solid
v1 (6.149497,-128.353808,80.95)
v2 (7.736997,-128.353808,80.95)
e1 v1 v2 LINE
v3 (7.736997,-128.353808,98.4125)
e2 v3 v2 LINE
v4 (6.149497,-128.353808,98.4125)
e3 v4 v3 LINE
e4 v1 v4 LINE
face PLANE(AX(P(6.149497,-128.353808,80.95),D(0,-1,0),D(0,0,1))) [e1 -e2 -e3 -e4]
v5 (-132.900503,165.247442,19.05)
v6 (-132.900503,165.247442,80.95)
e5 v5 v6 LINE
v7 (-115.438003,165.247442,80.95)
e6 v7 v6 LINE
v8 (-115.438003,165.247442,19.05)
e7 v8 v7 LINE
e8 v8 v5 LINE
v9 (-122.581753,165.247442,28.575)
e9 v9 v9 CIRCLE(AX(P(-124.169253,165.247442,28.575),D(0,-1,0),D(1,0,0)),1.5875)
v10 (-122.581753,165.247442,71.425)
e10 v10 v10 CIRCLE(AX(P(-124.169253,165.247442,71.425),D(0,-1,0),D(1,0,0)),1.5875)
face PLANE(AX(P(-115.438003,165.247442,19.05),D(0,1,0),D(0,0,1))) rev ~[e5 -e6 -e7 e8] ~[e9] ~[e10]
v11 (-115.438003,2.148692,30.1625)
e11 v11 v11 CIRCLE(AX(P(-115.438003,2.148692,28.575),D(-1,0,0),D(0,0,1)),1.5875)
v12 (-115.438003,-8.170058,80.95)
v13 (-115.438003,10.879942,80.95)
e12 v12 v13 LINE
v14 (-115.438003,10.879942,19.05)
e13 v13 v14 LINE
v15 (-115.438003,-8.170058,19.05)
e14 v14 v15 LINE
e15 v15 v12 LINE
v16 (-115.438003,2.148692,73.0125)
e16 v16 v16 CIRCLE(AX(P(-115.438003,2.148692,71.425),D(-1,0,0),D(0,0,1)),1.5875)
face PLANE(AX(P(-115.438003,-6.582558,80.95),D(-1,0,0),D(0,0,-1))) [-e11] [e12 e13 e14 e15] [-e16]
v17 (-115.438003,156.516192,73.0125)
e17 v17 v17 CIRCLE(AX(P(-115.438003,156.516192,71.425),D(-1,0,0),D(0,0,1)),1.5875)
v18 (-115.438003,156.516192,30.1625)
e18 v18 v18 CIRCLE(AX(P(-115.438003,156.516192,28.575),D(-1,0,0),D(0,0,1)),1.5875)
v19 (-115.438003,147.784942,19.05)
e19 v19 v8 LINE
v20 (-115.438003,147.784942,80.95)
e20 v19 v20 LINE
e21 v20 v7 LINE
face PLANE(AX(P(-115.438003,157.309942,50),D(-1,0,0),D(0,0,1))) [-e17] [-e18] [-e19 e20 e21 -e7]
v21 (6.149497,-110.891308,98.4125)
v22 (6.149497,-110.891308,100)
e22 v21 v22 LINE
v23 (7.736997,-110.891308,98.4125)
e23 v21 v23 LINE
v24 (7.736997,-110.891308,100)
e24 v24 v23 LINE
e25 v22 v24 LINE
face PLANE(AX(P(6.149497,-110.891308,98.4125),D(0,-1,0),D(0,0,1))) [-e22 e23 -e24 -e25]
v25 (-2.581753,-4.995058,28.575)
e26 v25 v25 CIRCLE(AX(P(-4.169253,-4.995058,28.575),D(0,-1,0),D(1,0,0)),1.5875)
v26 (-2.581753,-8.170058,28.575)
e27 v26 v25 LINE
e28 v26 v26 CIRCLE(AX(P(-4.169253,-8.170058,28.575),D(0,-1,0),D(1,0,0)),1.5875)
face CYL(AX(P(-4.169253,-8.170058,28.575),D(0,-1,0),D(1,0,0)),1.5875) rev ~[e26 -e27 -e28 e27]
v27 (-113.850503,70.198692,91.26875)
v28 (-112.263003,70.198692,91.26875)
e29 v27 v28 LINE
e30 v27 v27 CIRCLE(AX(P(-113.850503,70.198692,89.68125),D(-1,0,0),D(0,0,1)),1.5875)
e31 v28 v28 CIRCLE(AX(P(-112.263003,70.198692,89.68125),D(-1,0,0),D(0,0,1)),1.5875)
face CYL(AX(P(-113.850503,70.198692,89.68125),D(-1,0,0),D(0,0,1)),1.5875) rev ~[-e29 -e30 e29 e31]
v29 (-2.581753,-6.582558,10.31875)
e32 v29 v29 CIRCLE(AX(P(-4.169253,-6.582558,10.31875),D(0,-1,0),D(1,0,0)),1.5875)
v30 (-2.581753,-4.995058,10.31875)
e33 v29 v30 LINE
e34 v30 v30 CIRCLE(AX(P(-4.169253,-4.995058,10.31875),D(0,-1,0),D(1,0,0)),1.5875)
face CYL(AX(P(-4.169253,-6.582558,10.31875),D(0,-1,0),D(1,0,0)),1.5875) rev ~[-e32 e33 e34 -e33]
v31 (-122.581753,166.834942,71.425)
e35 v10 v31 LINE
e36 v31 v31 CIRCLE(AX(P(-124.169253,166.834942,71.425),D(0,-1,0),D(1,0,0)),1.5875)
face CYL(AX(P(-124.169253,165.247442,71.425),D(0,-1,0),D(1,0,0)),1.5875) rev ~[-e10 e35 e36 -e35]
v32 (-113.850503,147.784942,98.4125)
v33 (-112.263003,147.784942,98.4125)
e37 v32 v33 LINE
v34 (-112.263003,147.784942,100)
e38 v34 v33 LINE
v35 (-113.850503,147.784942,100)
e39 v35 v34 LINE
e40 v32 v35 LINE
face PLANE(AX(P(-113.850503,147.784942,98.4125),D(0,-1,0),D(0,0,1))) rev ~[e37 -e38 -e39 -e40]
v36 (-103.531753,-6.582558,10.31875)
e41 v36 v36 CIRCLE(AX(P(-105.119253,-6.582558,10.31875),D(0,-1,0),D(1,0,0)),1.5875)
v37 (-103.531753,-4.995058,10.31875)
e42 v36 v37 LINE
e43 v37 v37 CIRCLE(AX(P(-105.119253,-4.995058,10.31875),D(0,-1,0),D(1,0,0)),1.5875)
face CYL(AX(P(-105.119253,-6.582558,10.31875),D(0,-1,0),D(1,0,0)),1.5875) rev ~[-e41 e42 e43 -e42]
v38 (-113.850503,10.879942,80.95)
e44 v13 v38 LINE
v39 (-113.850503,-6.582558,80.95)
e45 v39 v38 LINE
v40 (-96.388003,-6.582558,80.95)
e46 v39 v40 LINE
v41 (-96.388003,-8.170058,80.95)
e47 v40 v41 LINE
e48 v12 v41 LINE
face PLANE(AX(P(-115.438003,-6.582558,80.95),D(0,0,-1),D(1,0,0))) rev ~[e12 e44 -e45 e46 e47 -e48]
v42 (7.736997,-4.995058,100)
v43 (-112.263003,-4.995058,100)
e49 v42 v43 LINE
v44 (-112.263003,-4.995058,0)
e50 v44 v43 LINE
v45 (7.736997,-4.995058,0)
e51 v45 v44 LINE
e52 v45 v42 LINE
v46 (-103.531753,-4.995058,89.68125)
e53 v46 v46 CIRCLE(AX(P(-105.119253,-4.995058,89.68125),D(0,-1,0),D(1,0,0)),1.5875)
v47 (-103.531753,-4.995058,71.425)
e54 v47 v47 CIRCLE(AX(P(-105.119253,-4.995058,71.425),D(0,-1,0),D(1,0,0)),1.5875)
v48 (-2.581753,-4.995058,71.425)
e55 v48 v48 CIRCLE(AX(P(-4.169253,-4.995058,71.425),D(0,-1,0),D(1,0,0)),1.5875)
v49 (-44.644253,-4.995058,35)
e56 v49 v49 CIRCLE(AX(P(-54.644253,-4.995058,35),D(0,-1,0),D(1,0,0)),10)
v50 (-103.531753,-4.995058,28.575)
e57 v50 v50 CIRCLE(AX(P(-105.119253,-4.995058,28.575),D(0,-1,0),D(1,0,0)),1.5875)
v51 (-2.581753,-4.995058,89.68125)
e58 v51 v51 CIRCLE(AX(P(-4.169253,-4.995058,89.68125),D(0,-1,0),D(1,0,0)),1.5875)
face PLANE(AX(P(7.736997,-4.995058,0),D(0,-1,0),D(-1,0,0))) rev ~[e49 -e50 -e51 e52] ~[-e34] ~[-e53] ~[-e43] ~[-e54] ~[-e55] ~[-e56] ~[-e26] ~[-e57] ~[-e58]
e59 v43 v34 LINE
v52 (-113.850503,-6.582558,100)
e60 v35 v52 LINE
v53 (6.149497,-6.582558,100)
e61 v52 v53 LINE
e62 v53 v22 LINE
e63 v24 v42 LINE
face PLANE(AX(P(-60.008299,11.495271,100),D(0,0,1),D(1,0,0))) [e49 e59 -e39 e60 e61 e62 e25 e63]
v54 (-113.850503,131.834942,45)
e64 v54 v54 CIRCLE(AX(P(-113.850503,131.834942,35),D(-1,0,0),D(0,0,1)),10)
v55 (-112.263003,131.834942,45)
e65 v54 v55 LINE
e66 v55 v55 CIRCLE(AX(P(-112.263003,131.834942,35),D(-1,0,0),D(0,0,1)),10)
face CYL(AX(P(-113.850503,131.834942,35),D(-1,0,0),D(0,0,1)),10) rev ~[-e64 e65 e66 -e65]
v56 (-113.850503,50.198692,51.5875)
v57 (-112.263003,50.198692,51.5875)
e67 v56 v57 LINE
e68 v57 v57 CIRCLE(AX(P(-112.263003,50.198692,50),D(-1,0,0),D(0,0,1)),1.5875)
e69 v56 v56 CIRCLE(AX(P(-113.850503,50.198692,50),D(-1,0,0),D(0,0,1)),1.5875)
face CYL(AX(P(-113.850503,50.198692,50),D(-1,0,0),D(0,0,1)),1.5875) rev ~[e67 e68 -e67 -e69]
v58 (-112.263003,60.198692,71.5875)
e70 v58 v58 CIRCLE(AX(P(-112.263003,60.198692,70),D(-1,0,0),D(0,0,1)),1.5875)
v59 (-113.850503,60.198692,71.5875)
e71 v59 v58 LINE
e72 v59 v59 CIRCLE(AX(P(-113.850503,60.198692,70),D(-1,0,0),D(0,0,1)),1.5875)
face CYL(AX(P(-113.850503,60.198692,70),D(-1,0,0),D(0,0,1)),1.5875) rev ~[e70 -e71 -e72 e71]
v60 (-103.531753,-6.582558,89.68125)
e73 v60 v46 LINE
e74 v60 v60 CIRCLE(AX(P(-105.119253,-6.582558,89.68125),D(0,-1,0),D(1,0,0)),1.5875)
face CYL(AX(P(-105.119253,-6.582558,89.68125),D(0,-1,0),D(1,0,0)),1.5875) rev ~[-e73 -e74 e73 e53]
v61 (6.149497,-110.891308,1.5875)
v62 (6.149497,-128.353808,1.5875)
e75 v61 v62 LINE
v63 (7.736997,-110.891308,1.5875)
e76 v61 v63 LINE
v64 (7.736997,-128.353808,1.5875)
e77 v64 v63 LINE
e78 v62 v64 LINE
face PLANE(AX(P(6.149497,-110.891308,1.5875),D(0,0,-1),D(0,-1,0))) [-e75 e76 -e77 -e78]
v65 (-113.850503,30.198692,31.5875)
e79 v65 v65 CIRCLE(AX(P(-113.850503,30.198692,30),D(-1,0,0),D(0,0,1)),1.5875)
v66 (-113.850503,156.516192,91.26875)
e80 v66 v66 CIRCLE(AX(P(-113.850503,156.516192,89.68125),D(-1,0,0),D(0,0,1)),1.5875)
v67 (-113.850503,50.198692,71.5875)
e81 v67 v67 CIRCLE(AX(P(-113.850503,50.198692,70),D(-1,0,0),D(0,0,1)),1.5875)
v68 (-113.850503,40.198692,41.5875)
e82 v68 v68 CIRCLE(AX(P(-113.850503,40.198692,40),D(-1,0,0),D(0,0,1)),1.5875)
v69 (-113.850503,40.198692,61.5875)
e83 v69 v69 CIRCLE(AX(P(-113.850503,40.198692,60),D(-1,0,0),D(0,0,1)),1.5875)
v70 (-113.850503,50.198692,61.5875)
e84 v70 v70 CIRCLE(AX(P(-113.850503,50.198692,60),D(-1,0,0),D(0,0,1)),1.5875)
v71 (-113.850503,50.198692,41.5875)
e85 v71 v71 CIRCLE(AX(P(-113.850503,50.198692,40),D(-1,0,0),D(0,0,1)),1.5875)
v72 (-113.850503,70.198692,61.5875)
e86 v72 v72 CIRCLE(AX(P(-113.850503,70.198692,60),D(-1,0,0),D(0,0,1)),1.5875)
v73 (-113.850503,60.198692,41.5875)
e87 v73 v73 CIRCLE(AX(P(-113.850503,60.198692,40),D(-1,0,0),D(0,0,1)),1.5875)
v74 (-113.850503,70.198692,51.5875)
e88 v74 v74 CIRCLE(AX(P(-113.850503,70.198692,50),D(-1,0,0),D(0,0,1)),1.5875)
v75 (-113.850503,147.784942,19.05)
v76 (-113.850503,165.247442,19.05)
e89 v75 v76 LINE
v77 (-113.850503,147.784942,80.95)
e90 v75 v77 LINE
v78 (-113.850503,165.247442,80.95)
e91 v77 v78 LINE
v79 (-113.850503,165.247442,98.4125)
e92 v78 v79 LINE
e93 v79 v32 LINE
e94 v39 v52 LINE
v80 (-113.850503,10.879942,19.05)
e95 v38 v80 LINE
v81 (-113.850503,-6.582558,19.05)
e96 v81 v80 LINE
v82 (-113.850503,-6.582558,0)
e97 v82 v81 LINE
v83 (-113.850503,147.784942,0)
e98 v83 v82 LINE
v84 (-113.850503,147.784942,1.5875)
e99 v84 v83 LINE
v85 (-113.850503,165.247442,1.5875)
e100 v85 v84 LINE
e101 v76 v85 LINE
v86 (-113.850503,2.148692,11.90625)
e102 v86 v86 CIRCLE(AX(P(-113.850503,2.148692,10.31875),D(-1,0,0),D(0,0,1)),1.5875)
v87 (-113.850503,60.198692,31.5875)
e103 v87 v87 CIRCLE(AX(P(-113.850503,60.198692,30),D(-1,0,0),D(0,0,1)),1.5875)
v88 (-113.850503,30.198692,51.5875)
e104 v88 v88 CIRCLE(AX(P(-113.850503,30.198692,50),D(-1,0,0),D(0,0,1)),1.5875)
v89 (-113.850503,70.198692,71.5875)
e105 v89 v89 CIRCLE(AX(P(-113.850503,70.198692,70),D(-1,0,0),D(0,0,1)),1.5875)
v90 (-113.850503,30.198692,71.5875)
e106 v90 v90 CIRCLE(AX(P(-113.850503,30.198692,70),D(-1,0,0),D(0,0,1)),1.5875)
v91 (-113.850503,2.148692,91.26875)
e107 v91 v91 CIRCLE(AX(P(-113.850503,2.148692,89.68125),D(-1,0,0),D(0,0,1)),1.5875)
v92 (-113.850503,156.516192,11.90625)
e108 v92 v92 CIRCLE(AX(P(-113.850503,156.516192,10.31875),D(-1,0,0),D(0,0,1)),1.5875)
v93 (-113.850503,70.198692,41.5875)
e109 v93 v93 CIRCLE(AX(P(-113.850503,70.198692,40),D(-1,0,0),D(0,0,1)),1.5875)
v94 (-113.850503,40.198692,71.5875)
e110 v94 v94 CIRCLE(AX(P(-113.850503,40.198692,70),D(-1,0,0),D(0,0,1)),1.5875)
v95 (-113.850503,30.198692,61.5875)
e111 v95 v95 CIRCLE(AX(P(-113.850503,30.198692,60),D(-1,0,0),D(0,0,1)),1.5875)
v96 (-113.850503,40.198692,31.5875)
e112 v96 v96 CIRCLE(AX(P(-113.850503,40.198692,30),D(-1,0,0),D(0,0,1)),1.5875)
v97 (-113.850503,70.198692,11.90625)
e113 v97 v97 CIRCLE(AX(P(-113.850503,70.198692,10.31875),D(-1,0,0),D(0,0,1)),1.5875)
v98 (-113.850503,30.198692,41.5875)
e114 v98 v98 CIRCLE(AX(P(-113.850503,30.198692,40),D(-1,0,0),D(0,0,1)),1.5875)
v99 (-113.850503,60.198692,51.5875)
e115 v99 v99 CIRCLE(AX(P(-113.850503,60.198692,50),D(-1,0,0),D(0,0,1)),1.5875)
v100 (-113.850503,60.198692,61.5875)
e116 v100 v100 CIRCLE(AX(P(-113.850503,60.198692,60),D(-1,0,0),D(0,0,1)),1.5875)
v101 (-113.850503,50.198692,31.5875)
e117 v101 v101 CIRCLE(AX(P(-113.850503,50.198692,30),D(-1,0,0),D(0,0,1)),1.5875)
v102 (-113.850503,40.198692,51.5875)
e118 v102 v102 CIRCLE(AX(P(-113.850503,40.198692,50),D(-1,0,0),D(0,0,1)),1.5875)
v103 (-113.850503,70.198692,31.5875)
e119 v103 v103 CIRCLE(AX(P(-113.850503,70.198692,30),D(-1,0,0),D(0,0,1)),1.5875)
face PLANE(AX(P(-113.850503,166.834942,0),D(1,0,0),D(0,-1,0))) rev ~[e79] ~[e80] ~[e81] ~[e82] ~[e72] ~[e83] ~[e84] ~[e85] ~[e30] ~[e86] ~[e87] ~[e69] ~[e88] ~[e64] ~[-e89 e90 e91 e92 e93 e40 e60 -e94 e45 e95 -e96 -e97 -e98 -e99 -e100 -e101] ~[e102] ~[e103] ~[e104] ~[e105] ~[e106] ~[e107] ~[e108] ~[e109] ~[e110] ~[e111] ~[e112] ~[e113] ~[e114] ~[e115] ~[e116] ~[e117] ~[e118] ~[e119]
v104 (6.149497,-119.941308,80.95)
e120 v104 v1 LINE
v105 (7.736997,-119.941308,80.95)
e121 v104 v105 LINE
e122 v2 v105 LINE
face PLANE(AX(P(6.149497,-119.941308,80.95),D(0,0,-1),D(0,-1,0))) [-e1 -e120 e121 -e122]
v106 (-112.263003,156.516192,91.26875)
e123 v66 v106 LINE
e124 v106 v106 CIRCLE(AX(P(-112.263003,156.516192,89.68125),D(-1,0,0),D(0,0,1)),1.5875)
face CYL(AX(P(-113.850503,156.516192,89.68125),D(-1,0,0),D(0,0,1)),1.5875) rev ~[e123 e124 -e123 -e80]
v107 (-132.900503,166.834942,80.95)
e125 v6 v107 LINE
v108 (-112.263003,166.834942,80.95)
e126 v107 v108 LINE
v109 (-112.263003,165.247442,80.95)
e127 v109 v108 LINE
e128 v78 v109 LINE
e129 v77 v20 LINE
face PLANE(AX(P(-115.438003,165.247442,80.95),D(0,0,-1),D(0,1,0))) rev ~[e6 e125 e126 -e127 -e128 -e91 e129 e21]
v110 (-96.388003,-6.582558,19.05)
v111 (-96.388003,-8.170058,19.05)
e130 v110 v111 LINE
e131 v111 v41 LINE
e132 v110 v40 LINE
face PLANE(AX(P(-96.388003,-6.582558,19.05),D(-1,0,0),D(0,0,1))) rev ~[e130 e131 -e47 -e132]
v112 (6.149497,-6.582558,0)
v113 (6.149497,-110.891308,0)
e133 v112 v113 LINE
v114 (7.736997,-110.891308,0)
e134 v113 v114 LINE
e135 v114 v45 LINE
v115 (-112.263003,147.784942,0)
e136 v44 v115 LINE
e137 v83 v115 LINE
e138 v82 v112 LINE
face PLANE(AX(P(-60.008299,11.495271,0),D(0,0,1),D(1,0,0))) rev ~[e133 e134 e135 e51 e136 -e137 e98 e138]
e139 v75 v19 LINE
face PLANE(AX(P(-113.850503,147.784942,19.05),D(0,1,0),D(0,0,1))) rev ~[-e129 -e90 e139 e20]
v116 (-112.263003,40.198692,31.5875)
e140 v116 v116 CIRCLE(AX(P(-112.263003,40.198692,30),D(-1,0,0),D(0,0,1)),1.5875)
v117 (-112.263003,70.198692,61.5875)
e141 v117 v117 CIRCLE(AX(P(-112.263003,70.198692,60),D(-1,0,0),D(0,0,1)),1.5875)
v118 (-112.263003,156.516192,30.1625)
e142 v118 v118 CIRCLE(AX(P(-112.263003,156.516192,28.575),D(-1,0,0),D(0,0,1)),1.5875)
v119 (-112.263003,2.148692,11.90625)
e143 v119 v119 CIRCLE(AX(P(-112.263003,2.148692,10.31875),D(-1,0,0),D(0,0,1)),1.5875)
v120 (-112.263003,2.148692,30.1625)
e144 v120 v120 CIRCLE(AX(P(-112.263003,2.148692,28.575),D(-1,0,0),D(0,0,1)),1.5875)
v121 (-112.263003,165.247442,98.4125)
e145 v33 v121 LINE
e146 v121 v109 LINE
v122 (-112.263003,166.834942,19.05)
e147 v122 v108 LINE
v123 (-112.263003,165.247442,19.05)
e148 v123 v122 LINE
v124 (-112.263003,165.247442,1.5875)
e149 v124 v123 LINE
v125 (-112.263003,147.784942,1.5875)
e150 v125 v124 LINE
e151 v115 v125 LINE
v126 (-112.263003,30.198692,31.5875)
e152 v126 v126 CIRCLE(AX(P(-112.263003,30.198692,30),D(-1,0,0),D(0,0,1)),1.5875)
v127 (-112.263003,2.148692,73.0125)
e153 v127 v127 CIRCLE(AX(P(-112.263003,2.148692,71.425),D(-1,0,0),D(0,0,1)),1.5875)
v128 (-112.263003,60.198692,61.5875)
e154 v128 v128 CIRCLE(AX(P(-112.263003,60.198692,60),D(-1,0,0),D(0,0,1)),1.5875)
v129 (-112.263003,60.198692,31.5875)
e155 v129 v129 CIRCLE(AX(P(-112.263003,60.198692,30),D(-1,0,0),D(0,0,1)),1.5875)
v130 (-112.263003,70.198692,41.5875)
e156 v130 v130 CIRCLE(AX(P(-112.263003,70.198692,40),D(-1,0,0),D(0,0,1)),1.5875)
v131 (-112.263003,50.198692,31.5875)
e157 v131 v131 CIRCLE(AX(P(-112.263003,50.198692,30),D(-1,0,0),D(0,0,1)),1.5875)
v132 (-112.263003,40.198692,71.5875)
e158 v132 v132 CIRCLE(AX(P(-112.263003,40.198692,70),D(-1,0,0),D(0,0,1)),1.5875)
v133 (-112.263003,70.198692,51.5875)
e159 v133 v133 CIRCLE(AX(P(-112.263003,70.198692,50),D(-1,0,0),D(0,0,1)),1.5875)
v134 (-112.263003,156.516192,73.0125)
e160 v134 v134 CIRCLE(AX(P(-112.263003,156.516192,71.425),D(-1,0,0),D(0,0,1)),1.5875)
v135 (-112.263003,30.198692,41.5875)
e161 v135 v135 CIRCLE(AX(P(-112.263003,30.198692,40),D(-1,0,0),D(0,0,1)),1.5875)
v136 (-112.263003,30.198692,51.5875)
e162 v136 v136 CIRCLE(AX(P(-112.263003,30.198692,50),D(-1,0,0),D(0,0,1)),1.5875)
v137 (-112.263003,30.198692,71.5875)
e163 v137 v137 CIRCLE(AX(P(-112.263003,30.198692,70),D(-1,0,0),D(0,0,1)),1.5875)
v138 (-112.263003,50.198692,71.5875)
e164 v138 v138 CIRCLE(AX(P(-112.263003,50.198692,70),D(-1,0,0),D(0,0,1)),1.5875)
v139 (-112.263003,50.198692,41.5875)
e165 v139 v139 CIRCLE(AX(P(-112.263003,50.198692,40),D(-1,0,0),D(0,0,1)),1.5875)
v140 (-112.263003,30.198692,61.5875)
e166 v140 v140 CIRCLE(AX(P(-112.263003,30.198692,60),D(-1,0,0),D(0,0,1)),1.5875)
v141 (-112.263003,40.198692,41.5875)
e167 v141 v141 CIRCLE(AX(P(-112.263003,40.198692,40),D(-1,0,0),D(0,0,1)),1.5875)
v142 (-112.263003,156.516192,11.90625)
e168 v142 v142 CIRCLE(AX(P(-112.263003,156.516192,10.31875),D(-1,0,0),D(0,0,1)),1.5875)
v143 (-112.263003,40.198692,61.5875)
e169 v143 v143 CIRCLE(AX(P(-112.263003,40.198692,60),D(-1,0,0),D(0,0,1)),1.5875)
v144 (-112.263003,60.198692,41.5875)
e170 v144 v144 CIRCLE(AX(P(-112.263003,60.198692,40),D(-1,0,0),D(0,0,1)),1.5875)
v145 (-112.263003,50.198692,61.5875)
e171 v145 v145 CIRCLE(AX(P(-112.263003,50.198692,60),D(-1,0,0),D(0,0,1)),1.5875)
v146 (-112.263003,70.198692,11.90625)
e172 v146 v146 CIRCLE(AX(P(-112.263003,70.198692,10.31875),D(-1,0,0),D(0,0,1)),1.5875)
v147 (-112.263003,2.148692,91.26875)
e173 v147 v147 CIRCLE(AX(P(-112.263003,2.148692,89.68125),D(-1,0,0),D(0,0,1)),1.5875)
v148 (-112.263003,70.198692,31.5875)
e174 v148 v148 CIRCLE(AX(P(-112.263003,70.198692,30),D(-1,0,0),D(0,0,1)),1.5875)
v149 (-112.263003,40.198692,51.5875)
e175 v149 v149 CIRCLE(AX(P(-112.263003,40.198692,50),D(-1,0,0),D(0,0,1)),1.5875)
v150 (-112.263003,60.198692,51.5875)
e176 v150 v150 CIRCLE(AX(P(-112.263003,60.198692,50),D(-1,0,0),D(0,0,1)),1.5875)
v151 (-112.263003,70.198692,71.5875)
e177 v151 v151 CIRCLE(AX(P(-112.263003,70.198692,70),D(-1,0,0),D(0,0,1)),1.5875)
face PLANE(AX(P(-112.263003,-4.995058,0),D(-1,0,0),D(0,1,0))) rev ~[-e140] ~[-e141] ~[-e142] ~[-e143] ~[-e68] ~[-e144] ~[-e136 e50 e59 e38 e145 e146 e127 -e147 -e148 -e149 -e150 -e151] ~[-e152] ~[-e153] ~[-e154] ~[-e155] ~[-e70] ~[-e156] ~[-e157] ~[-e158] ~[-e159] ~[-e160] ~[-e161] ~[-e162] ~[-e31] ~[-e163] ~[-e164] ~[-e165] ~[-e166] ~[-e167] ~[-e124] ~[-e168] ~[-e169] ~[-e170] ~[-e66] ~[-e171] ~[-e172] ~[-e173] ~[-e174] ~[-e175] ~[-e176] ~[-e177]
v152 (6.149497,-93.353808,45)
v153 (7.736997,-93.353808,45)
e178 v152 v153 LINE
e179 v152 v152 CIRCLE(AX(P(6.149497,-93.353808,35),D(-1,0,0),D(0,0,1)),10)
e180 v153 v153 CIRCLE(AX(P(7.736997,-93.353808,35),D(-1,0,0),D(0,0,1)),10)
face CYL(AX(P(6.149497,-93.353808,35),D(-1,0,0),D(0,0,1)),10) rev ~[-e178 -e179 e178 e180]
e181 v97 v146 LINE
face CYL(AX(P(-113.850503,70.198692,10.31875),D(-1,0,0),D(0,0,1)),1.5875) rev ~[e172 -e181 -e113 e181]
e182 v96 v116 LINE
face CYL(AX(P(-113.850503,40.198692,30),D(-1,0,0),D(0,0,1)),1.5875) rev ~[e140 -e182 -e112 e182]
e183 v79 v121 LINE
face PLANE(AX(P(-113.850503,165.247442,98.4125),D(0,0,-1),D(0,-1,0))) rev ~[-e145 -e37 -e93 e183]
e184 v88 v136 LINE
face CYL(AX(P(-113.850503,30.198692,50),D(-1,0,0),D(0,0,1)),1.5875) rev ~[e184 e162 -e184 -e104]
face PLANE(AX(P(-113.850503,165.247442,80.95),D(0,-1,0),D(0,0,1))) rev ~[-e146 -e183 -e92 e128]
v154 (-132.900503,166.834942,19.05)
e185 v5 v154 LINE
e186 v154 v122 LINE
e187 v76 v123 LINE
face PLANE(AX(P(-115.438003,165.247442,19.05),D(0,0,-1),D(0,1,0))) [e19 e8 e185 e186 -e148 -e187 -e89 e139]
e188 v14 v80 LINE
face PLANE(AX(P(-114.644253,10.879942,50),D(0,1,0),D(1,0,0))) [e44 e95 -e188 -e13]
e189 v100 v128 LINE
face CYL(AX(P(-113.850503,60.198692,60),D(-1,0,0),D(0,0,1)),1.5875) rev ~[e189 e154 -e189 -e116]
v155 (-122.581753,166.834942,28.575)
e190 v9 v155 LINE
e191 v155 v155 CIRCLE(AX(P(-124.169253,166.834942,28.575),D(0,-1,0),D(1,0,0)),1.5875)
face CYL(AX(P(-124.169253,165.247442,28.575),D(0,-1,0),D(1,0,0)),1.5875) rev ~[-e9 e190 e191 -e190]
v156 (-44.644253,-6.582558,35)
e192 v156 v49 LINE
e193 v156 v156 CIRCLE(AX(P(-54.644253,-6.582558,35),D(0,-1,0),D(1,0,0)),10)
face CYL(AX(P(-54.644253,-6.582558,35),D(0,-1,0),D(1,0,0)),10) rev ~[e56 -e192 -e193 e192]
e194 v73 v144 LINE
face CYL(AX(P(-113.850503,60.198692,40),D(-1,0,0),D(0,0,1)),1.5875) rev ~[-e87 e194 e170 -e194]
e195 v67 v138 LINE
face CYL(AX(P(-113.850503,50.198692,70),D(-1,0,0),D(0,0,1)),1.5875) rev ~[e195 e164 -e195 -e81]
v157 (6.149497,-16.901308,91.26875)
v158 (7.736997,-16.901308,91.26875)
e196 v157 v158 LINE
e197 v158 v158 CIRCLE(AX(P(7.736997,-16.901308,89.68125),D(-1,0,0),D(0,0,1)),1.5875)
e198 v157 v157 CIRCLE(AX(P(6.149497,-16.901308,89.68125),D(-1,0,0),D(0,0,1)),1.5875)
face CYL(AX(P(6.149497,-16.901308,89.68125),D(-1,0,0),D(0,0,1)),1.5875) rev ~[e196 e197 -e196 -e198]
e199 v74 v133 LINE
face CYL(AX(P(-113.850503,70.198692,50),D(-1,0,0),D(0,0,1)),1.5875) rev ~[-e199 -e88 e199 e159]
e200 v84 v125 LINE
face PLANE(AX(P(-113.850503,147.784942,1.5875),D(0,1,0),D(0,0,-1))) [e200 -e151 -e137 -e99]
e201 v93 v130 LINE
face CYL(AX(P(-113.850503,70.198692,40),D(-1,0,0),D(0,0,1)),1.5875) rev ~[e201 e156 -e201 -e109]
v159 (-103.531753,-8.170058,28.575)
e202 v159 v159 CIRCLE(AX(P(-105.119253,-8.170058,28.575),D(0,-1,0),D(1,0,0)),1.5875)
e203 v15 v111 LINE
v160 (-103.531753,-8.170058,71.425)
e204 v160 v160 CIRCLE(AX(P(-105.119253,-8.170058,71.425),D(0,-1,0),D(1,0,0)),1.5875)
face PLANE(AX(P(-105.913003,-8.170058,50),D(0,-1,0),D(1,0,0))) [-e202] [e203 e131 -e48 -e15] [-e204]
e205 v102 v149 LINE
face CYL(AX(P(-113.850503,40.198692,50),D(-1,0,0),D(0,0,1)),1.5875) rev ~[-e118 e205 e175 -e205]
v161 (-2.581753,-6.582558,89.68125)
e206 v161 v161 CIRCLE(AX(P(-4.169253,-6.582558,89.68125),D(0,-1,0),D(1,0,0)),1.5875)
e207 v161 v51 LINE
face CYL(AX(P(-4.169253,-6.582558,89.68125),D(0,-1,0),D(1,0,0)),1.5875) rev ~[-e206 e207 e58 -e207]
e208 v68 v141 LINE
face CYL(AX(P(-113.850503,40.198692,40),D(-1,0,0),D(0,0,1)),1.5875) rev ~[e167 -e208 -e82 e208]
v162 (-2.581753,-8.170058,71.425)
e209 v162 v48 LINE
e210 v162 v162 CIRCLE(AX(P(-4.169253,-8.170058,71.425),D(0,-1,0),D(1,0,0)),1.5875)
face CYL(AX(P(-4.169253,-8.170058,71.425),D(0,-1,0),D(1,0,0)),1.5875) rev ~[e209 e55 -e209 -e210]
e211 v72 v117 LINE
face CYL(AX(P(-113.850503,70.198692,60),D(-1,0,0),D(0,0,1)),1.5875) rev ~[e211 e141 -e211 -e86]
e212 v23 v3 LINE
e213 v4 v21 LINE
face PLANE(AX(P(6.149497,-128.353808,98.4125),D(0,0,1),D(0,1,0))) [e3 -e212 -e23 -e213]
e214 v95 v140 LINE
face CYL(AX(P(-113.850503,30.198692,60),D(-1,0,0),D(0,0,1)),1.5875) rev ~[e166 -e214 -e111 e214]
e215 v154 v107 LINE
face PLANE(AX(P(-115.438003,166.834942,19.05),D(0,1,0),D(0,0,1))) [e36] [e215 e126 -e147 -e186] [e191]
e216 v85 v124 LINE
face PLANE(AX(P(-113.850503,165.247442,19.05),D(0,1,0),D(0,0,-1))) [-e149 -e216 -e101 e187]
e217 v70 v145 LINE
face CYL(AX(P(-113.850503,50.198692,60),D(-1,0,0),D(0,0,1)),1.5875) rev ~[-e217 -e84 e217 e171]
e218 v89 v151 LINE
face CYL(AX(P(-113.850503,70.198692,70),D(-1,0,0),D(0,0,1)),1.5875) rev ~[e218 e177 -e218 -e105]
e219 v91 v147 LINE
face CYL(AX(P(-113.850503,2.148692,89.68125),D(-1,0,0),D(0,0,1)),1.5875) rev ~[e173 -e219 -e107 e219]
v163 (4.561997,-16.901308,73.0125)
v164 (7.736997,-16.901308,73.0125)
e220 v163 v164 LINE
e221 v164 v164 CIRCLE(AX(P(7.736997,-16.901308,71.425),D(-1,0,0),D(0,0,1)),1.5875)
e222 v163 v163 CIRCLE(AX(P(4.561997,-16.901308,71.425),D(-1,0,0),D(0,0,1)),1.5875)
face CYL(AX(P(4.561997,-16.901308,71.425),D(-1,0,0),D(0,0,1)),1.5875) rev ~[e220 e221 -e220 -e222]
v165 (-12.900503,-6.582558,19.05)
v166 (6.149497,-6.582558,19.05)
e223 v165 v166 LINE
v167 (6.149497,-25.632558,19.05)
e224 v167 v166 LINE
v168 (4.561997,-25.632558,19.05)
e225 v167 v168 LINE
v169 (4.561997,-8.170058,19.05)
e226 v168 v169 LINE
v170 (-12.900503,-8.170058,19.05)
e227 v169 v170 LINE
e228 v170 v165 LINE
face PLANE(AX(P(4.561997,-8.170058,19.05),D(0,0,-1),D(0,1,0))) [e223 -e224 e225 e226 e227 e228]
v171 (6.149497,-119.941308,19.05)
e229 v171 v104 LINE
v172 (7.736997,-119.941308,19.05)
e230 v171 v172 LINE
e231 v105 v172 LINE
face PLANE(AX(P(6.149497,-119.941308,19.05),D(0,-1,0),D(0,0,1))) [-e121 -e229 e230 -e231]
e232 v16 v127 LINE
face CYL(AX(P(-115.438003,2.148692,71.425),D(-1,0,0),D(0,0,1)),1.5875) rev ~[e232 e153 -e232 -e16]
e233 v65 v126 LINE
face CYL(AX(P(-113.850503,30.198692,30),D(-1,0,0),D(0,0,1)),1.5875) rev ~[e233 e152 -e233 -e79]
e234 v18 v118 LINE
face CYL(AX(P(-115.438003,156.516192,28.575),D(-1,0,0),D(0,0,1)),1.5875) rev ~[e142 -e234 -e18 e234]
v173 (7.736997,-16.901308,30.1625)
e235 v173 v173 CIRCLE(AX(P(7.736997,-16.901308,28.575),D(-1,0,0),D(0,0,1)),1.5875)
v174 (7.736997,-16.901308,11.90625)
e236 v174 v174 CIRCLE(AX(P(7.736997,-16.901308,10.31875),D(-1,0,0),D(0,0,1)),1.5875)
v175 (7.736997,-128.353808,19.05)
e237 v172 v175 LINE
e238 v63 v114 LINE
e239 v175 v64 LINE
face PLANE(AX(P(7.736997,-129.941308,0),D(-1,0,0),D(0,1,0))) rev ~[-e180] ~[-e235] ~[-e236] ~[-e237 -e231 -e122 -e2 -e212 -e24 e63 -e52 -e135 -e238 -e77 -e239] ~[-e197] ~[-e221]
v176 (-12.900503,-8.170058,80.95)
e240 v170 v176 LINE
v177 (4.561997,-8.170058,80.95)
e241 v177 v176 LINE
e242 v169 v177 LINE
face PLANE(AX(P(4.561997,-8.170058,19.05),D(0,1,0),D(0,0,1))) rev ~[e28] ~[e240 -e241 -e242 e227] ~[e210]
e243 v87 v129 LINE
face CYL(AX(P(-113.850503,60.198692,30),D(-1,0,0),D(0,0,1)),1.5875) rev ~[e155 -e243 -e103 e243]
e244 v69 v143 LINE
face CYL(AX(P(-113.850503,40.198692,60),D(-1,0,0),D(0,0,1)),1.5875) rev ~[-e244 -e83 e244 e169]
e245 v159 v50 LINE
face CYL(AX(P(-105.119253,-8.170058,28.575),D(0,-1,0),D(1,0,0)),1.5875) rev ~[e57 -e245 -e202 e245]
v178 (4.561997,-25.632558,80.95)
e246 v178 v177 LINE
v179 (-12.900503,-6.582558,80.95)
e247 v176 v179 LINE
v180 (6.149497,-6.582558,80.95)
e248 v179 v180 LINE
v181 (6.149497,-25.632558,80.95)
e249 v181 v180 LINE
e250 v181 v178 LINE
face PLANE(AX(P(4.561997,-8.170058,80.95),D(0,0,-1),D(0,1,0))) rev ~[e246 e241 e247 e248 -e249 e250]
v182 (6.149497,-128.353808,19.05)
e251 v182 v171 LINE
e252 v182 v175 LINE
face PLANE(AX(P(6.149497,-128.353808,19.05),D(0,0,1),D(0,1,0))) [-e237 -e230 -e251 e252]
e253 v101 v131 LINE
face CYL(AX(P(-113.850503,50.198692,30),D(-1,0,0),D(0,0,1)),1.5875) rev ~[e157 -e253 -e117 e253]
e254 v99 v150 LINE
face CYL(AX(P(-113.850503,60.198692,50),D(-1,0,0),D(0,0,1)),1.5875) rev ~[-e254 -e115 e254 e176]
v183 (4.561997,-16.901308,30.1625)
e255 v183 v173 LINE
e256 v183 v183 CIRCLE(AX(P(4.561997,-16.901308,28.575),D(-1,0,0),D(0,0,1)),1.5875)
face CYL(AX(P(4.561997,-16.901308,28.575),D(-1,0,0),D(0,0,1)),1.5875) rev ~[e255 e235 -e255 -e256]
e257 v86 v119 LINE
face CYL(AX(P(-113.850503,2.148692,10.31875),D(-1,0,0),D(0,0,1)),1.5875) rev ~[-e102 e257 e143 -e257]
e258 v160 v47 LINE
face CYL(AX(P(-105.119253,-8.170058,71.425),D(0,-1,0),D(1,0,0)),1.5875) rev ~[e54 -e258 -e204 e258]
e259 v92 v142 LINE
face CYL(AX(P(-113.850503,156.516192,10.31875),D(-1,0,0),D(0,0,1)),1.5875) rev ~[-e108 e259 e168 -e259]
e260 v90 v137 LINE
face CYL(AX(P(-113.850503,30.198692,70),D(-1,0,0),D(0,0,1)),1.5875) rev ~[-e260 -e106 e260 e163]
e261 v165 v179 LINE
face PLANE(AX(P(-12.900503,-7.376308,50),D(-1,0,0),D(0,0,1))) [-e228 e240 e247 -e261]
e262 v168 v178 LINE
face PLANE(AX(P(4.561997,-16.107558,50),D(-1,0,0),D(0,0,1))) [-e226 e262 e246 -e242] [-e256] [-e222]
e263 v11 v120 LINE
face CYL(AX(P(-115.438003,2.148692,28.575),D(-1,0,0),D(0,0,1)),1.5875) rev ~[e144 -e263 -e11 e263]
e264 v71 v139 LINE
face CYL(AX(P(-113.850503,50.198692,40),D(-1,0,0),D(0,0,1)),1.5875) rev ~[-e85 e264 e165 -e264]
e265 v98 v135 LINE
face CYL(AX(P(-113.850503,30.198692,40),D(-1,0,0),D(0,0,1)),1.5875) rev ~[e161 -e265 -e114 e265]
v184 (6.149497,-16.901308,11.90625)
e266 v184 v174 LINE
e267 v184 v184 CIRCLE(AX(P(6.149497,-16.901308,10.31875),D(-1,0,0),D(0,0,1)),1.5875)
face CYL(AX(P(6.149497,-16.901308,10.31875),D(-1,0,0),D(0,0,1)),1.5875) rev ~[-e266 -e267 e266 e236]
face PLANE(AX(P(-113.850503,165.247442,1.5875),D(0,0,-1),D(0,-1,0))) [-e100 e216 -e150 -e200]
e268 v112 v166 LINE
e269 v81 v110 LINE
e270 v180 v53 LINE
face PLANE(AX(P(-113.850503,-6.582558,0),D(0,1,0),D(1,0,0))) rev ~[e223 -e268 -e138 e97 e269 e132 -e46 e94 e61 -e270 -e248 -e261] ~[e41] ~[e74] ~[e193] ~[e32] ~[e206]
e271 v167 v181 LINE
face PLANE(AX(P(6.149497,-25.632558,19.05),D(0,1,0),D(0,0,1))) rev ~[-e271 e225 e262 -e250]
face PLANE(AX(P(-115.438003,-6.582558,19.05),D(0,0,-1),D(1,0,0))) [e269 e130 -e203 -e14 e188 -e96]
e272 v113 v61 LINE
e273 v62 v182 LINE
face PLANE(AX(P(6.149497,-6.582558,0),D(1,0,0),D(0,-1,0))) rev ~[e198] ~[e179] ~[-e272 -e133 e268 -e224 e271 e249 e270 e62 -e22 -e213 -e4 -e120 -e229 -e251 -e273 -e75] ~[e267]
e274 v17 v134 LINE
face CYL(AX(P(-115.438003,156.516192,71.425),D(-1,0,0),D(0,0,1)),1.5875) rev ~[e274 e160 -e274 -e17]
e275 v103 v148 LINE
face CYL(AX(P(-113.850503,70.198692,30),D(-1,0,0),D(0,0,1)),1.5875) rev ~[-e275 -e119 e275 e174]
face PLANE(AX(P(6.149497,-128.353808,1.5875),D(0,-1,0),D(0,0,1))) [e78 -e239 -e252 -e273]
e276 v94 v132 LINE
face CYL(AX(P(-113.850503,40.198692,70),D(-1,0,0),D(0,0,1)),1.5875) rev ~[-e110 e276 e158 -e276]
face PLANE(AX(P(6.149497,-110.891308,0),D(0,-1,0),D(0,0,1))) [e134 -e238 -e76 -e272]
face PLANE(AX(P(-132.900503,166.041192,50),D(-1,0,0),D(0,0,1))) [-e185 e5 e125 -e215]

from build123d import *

# Parameters (mm, degrees)
BOSS_EXTRU_1_DEPTH       = 100
ESQUISSE2_W              = 19.05
ESQUISSE2_H              = 61.9
BOSS_EXTRU_2_DEPTH       = 1.5875
ESQUISSE3_W              = 1.5875
ESQUISSE3_H              = 61.9
BOSS_EXTRU_3_DEPTH       = 17.4625
ESQUISSE4_W              = 61.9
ESQUISSE4_H              = 19.05
BOSS_EXTRU_4_DEPTH       = 1.5875
ESQUISSE5_W              = 61.9
ESQUISSE5_H              = 1.5875
BOSS_EXTRU_5_DEPTH       = 17.4625
ESQUISSE7_W              = 61.9
ESQUISSE7_H              = 19.05
BOSS_EXTRU_6_DEPTH       = 1.5875
ESQUISSE8_W              = 61.9
ESQUISSE8_H              = 1.5875
BOSS_EXTRU_7_DEPTH       = 17.4625
ENL_V_MAT_EXTRU_1_REACH  = 125.175
ESQUISSE11_R             = 1.5875
ENL_V_MAT_EXTRU_2_REACH  = 177.005
ESQUISSE12_R             = 1.5875
ENL_V_MAT_EXTRU_3_REACH  = 5.175
ESQUISSE13_R             = 1.5875
ENL_V_MAT_EXTRU_4_REACH  = 3.588
ESQUISSE14_R             = 1.5875
ENL_V_MAT_EXTRU_6_REACH  = 123.588
ESQUISSE16_R             = 10
ENL_V_MAT_EXTRU_7_REACH  = 175.418
ESQUISSE17_R             = 10
ENL_V_MAT_EXTRU_8_REACH  = 123.588
ESQUISSE18_R             = 1.5875
ENL_V_MAT_EXTRU_9_REACH  = 3.588
ESQUISSE19_R             = 1.5875
ENL_V_MAT_EXTRU_10_REACH = 175.418
ESQUISSE20_R             = 1.5875
ESQUISSE21_R             = 1.5875
ENL_V_MAT_EXTRU_11_DEPTH = 1.5875
ENL_V_MAT_EXTRU_12_REACH = 3.588
ESQUISSE22_R             = 10


with BuildPart() as part:
    # Esquisse1 → Boss.-Extru.1 (new body)
    with BuildSketch(Plane.XY):
        Polygon((-113.850503037, 166.83494186), (-113.850503037, -6.58255814), (6.149496963, -6.58255814), (6.149496963, -129.94130814), (7.736996963, -129.94130814), (7.736996963, -4.99505814), (-112.263003037, -4.99505814), (-112.263003037, 166.83494186), align=None)
    extrude(amount=BOSS_EXTRU_1_DEPTH)

    # Esquisse2 → Boss.-Extru.2 (add)
    with BuildSketch(Plane.XZ.offset(6.58255814)):
        with Locations((-105.913003037, 50)):
            Rectangle(ESQUISSE2_W, ESQUISSE2_H)
    extrude(amount=BOSS_EXTRU_2_DEPTH)

    # Esquisse3 → Boss.-Extru.3 (add)
    with BuildSketch(Plane(origin=(0, -6.58255814, 0), x_dir=(1, 0, 0), z_dir=(0, 1, 0))):
        with Locations((-114.644253037, -50)):
            Rectangle(ESQUISSE3_W, ESQUISSE3_H)
    extrude(amount=BOSS_EXTRU_3_DEPTH)

    # Esquisse4 → Boss.-Extru.4 (add)
    with BuildSketch(Plane.ZY.offset(-6.149496963)):
        with Locations((50, -16.10755814)):
            Rectangle(ESQUISSE4_W, ESQUISSE4_H)
    extrude(amount=BOSS_EXTRU_4_DEPTH)

    # Esquisse5 → Boss.-Extru.5 (add)
    with BuildSketch(Plane.ZY.offset(-4.561996963)):
        with Locations((50, -7.37630814)):
            Rectangle(ESQUISSE5_W, ESQUISSE5_H)
    extrude(amount=BOSS_EXTRU_5_DEPTH)

    # Esquisse7 → Boss.-Extru.6 (add)
    with BuildSketch(Plane.ZY.offset(113.850503037)):
        with Locations((50, 157.30994186)):
            Rectangle(ESQUISSE7_W, ESQUISSE7_H)
    extrude(amount=BOSS_EXTRU_6_DEPTH)

    # Esquisse8 → Boss.-Extru.7 (add)
    with BuildSketch(Plane.ZY.offset(115.438003037)):
        with Locations((50, 166.04119186)):
            Rectangle(ESQUISSE8_W, ESQUISSE8_H)
    extrude(amount=BOSS_EXTRU_7_DEPTH)

    # Esquisse11 → Enlèv. mat.-Extru.1 (cut, up to next)
    with BuildSketch(Plane.ZY.offset(115.438003037), mode=Mode.PRIVATE) as enl_v_mat_extru_1_sk1:
        with Locations((71.425, 156.51619186)):
            Circle(ESQUISSE11_R)
    enl_v_mat_extru_1_tool1 = extrude(enl_v_mat_extru_1_sk1.sketch, amount=-ENL_V_MAT_EXTRU_1_REACH, mode=Mode.PRIVATE) & part.part
    add(enl_v_mat_extru_1_tool1.solids().sort_by_distance((-115.438003, 156.516192, 71.425))[0], mode=Mode.SUBTRACT)
    # Esquisse11 → Enlèv. mat.-Extru.1 (cut, up to next)
    with BuildSketch(Plane.ZY.offset(115.438003037), mode=Mode.PRIVATE) as enl_v_mat_extru_1_sk2:
        with Locations((28.575, 156.51619186)):
            Circle(ESQUISSE11_R)
    enl_v_mat_extru_1_tool2 = extrude(enl_v_mat_extru_1_sk2.sketch, amount=-ENL_V_MAT_EXTRU_1_REACH, mode=Mode.PRIVATE) & part.part
    add(enl_v_mat_extru_1_tool2.solids().sort_by_distance((-115.438003, 156.516192, 28.575))[0], mode=Mode.SUBTRACT)
    # Esquisse11 → Enlèv. mat.-Extru.1 (cut, up to next)
    with BuildSketch(Plane.ZY.offset(115.438003037), mode=Mode.PRIVATE) as enl_v_mat_extru_1_sk3:
        with Locations((71.425, 2.14869186)):
            Circle(ESQUISSE11_R)
    enl_v_mat_extru_1_tool3 = extrude(enl_v_mat_extru_1_sk3.sketch, amount=-ENL_V_MAT_EXTRU_1_REACH, mode=Mode.PRIVATE) & part.part
    add(enl_v_mat_extru_1_tool3.solids().sort_by_distance((-115.438003, 2.148692, 71.425))[0], mode=Mode.SUBTRACT)
    # Esquisse11 → Enlèv. mat.-Extru.1 (cut, up to next)
    with BuildSketch(Plane.ZY.offset(115.438003037), mode=Mode.PRIVATE) as enl_v_mat_extru_1_sk4:
        with Locations((28.575, 2.14869186)):
            Circle(ESQUISSE11_R)
    enl_v_mat_extru_1_tool4 = extrude(enl_v_mat_extru_1_sk4.sketch, amount=-ENL_V_MAT_EXTRU_1_REACH, mode=Mode.PRIVATE) & part.part
    add(enl_v_mat_extru_1_tool4.solids().sort_by_distance((-115.438003, 2.148692, 28.575))[0], mode=Mode.SUBTRACT)

    # Esquisse12 → Enlèv. mat.-Extru.2 (cut, up to next)
    with BuildSketch(Plane.XZ.offset(8.17005814), mode=Mode.PRIVATE) as enl_v_mat_extru_2_sk1:
        with Locations((-105.119253037, 71.425)):
            Circle(ESQUISSE12_R)
    enl_v_mat_extru_2_tool1 = extrude(enl_v_mat_extru_2_sk1.sketch, amount=-ENL_V_MAT_EXTRU_2_REACH, mode=Mode.PRIVATE) & part.part
    add(enl_v_mat_extru_2_tool1.solids().sort_by_distance((-105.119253, -8.170058, 71.425))[0], mode=Mode.SUBTRACT)
    # Esquisse12 → Enlèv. mat.-Extru.2 (cut, up to next)
    with BuildSketch(Plane.XZ.offset(8.17005814), mode=Mode.PRIVATE) as enl_v_mat_extru_2_sk2:
        with Locations((-105.119253037, 28.575)):
            Circle(ESQUISSE12_R)
    enl_v_mat_extru_2_tool2 = extrude(enl_v_mat_extru_2_sk2.sketch, amount=-ENL_V_MAT_EXTRU_2_REACH, mode=Mode.PRIVATE) & part.part
    add(enl_v_mat_extru_2_tool2.solids().sort_by_distance((-105.119253, -8.170058, 28.575))[0], mode=Mode.SUBTRACT)
    # Esquisse12 → Enlèv. mat.-Extru.2 (cut, up to next)
    with BuildSketch(Plane.XZ.offset(8.17005814), mode=Mode.PRIVATE) as enl_v_mat_extru_2_sk3:
        with Locations((-4.169253037, 71.425)):
            Circle(ESQUISSE12_R)
    enl_v_mat_extru_2_tool3 = extrude(enl_v_mat_extru_2_sk3.sketch, amount=-ENL_V_MAT_EXTRU_2_REACH, mode=Mode.PRIVATE) & part.part
    add(enl_v_mat_extru_2_tool3.solids().sort_by_distance((-4.169253, -8.170058, 71.425))[0], mode=Mode.SUBTRACT)
    # Esquisse12 → Enlèv. mat.-Extru.2 (cut, up to next)
    with BuildSketch(Plane.XZ.offset(8.17005814), mode=Mode.PRIVATE) as enl_v_mat_extru_2_sk4:
        with Locations((-4.169253037, 28.575)):
            Circle(ESQUISSE12_R)
    enl_v_mat_extru_2_tool4 = extrude(enl_v_mat_extru_2_sk4.sketch, amount=-ENL_V_MAT_EXTRU_2_REACH, mode=Mode.PRIVATE) & part.part
    add(enl_v_mat_extru_2_tool4.solids().sort_by_distance((-4.169253, -8.170058, 28.575))[0], mode=Mode.SUBTRACT)

    # Esquisse13 → Enlèv. mat.-Extru.3 (cut, up to next)
    with BuildSketch(Plane.ZY.offset(-4.561996963), mode=Mode.PRIVATE) as enl_v_mat_extru_3_sk1:
        with Locations((71.425, -16.90130814)):
            Circle(ESQUISSE13_R)
    enl_v_mat_extru_3_tool1 = extrude(enl_v_mat_extru_3_sk1.sketch, amount=-ENL_V_MAT_EXTRU_3_REACH, mode=Mode.PRIVATE) & part.part
    add(enl_v_mat_extru_3_tool1.solids().sort_by_distance((4.561997, -16.901308, 71.425))[0], mode=Mode.SUBTRACT)
    # Esquisse13 → Enlèv. mat.-Extru.3 (cut, up to next)
    with BuildSketch(Plane.ZY.offset(-4.561996963), mode=Mode.PRIVATE) as enl_v_mat_extru_3_sk2:
        with Locations((28.575, -16.90130814)):
            Circle(ESQUISSE13_R)
    enl_v_mat_extru_3_tool2 = extrude(enl_v_mat_extru_3_sk2.sketch, amount=-ENL_V_MAT_EXTRU_3_REACH, mode=Mode.PRIVATE) & part.part
    add(enl_v_mat_extru_3_tool2.solids().sort_by_distance((4.561997, -16.901308, 28.575))[0], mode=Mode.SUBTRACT)

    # Esquisse14 → Enlèv. mat.-Extru.4 (cut, up to next)
    with BuildSketch(Plane.XZ.offset(-165.24744186), mode=Mode.PRIVATE) as enl_v_mat_extru_4_sk1:
        with Locations((-124.169253037, 71.425)):
            Circle(ESQUISSE14_R)
    enl_v_mat_extru_4_tool1 = extrude(enl_v_mat_extru_4_sk1.sketch, amount=-ENL_V_MAT_EXTRU_4_REACH, mode=Mode.PRIVATE) & part.part
    add(enl_v_mat_extru_4_tool1.solids().sort_by_distance((-124.169253, 165.247442, 71.425))[0], mode=Mode.SUBTRACT)
    # Esquisse14 → Enlèv. mat.-Extru.4 (cut, up to next)
    with BuildSketch(Plane.XZ.offset(-165.24744186), mode=Mode.PRIVATE) as enl_v_mat_extru_4_sk2:
        with Locations((-124.169253037, 28.575)):
            Circle(ESQUISSE14_R)
    enl_v_mat_extru_4_tool2 = extrude(enl_v_mat_extru_4_sk2.sketch, amount=-ENL_V_MAT_EXTRU_4_REACH, mode=Mode.PRIVATE) & part.part
    add(enl_v_mat_extru_4_tool2.solids().sort_by_distance((-124.169253, 165.247442, 28.575))[0], mode=Mode.SUBTRACT)

    # Esquisse16 → Enlèv. mat.-Extru.6 (cut, up to next)
    with BuildSketch(Plane.ZY.offset(113.850503037), mode=Mode.PRIVATE) as enl_v_mat_extru_6_sk1:
        with Locations((35, 131.83494186)):
            Circle(ESQUISSE16_R)
    enl_v_mat_extru_6_tool1 = extrude(enl_v_mat_extru_6_sk1.sketch, amount=-ENL_V_MAT_EXTRU_6_REACH, mode=Mode.PRIVATE) & part.part
    add(enl_v_mat_extru_6_tool1.solids().sort_by_distance((-113.850503, 131.834942, 35))[0], mode=Mode.SUBTRACT)

    # Esquisse17 → Enlèv. mat.-Extru.7 (cut, up to next)
    with BuildSketch(Plane.XZ.offset(6.58255814), mode=Mode.PRIVATE) as enl_v_mat_extru_7_sk1:
        with Locations((-54.644253037, 35)):
            Circle(ESQUISSE17_R)
    enl_v_mat_extru_7_tool1 = extrude(enl_v_mat_extru_7_sk1.sketch, amount=-ENL_V_MAT_EXTRU_7_REACH, mode=Mode.PRIVATE) & part.part
    add(enl_v_mat_extru_7_tool1.solids().sort_by_distance((-54.644253, -6.582558, 35))[0], mode=Mode.SUBTRACT)

    # Esquisse18 → Enlèv. mat.-Extru.8 (cut, up to next)
    with BuildSketch(Plane.ZY.offset(113.850503037), mode=Mode.PRIVATE) as enl_v_mat_extru_8_sk1:
        with Locations((10.31875, 156.51619186)):
            Circle(ESQUISSE18_R)
    enl_v_mat_extru_8_tool1 = extrude(enl_v_mat_extru_8_sk1.sketch, amount=-ENL_V_MAT_EXTRU_8_REACH, mode=Mode.PRIVATE) & part.part
    add(enl_v_mat_extru_8_tool1.solids().sort_by_distance((-113.850503, 156.516192, 10.31875))[0], mode=Mode.SUBTRACT)
    # Esquisse18 → Enlèv. mat.-Extru.8 (cut, up to next)
    with BuildSketch(Plane.ZY.offset(113.850503037), mode=Mode.PRIVATE) as enl_v_mat_extru_8_sk2:
        with Locations((10.31875, 2.14869186)):
            Circle(ESQUISSE18_R)
    enl_v_mat_extru_8_tool2 = extrude(enl_v_mat_extru_8_sk2.sketch, amount=-ENL_V_MAT_EXTRU_8_REACH, mode=Mode.PRIVATE) & part.part
    add(enl_v_mat_extru_8_tool2.solids().sort_by_distance((-113.850503, 2.148692, 10.31875))[0], mode=Mode.SUBTRACT)
    # Esquisse18 → Enlèv. mat.-Extru.8 (cut, up to next)
    with BuildSketch(Plane.ZY.offset(113.850503037), mode=Mode.PRIVATE) as enl_v_mat_extru_8_sk3:
        with Locations((10.31875, 70.19869186)):
            Circle(ESQUISSE18_R)
    enl_v_mat_extru_8_tool3 = extrude(enl_v_mat_extru_8_sk3.sketch, amount=-ENL_V_MAT_EXTRU_8_REACH, mode=Mode.PRIVATE) & part.part
    add(enl_v_mat_extru_8_tool3.solids().sort_by_distance((-113.850503, 70.198692, 10.31875))[0], mode=Mode.SUBTRACT)
    # Esquisse18 → Enlèv. mat.-Extru.8 (cut, up to next)
    with BuildSketch(Plane.ZY.offset(113.850503037), mode=Mode.PRIVATE) as enl_v_mat_extru_8_sk4:
        with Locations((89.68125, 2.14869186)):
            Circle(ESQUISSE18_R)
    enl_v_mat_extru_8_tool4 = extrude(enl_v_mat_extru_8_sk4.sketch, amount=-ENL_V_MAT_EXTRU_8_REACH, mode=Mode.PRIVATE) & part.part
    add(enl_v_mat_extru_8_tool4.solids().sort_by_distance((-113.850503, 2.148692, 89.68125))[0], mode=Mode.SUBTRACT)
    # Esquisse18 → Enlèv. mat.-Extru.8 (cut, up to next)
    with BuildSketch(Plane.ZY.offset(113.850503037), mode=Mode.PRIVATE) as enl_v_mat_extru_8_sk5:
        with Locations((89.68125, 70.19869186)):
            Circle(ESQUISSE18_R)
    enl_v_mat_extru_8_tool5 = extrude(enl_v_mat_extru_8_sk5.sketch, amount=-ENL_V_MAT_EXTRU_8_REACH, mode=Mode.PRIVATE) & part.part
    add(enl_v_mat_extru_8_tool5.solids().sort_by_distance((-113.850503, 70.198692, 89.68125))[0], mode=Mode.SUBTRACT)
    # Esquisse18 → Enlèv. mat.-Extru.8 (cut, up to next)
    with BuildSketch(Plane.ZY.offset(113.850503037), mode=Mode.PRIVATE) as enl_v_mat_extru_8_sk6:
        with Locations((89.68125, 156.51619186)):
            Circle(ESQUISSE18_R)
    enl_v_mat_extru_8_tool6 = extrude(enl_v_mat_extru_8_sk6.sketch, amount=-ENL_V_MAT_EXTRU_8_REACH, mode=Mode.PRIVATE) & part.part
    add(enl_v_mat_extru_8_tool6.solids().sort_by_distance((-113.850503, 156.516192, 89.68125))[0], mode=Mode.SUBTRACT)
    # Esquisse18 → Enlèv. mat.-Extru.8 (cut, up to next)
    with BuildSketch(Plane.ZY.offset(113.850503037), mode=Mode.PRIVATE) as enl_v_mat_extru_8_sk7:
        Polygon((0, 166.83494186), (1.5875, 166.83494186), (19.05, 166.83494186), (19.05, 165.24744186), (1.5875, 165.24744186), (1.5875, 147.78494186), (0, 147.78494186), align=None)
    enl_v_mat_extru_8_tool7 = extrude(enl_v_mat_extru_8_sk7.sketch, amount=-ENL_V_MAT_EXTRU_8_REACH, mode=Mode.PRIVATE) & part.part
    add(enl_v_mat_extru_8_tool7.solids().sort_by_distance((-113.850503, 166.565534, 0.79375))[0], mode=Mode.SUBTRACT)
    # Esquisse18 → Enlèv. mat.-Extru.8 (cut, up to next)
    with BuildSketch(Plane.ZY.offset(113.850503037), mode=Mode.PRIVATE) as enl_v_mat_extru_8_sk8:
        Polygon((98.4125, 165.24744186), (98.4125, 147.78494186), (100, 147.78494186), (100, 166.83494186), (98.4125, 166.83494186), (80.95, 166.83494186), (80.95, 165.24744186), align=None)
    enl_v_mat_extru_8_tool8 = extrude(enl_v_mat_extru_8_sk8.sketch, amount=-ENL_V_MAT_EXTRU_8_REACH, mode=Mode.PRIVATE) & part.part
    add(enl_v_mat_extru_8_tool8.solids().sort_by_distance((-113.850503, 156.516192, 98.681908))[0], mode=Mode.SUBTRACT)

    # Esquisse19 → Enlèv. mat.-Extru.9 (cut, up to next)
    with BuildSketch(Plane.ZY.offset(-6.149496963), mode=Mode.PRIVATE) as enl_v_mat_extru_9_sk1:
        with Locations((10.31875, -16.90130814)):
            Circle(ESQUISSE19_R)
    enl_v_mat_extru_9_tool1 = extrude(enl_v_mat_extru_9_sk1.sketch, amount=-ENL_V_MAT_EXTRU_9_REACH, mode=Mode.PRIVATE) & part.part
    add(enl_v_mat_extru_9_tool1.solids().sort_by_distance((6.149497, -16.901308, 10.31875))[0], mode=Mode.SUBTRACT)
    # Esquisse19 → Enlèv. mat.-Extru.9 (cut, up to next)
    with BuildSketch(Plane.ZY.offset(-6.149496963), mode=Mode.PRIVATE) as enl_v_mat_extru_9_sk2:
        with Locations((89.68125, -16.90130814)):
            Circle(ESQUISSE19_R)
    enl_v_mat_extru_9_tool2 = extrude(enl_v_mat_extru_9_sk2.sketch, amount=-ENL_V_MAT_EXTRU_9_REACH, mode=Mode.PRIVATE) & part.part
    add(enl_v_mat_extru_9_tool2.solids().sort_by_distance((6.149497, -16.901308, 89.68125))[0], mode=Mode.SUBTRACT)

    # Esquisse20 → Enlèv. mat.-Extru.10 (cut, up to next)
    with BuildSketch(Plane.XZ.offset(6.58255814), mode=Mode.PRIVATE) as enl_v_mat_extru_10_sk1:
        with Locations((-105.119253037, 10.31875)):
            Circle(ESQUISSE20_R)
    enl_v_mat_extru_10_tool1 = extrude(enl_v_mat_extru_10_sk1.sketch, amount=-ENL_V_MAT_EXTRU_10_REACH, mode=Mode.PRIVATE) & part.part
    add(enl_v_mat_extru_10_tool1.solids().sort_by_distance((-105.119253, -6.582558, 10.31875))[0], mode=Mode.SUBTRACT)
    # Esquisse20 → Enlèv. mat.-Extru.10 (cut, up to next)
    with BuildSketch(Plane.XZ.offset(6.58255814), mode=Mode.PRIVATE) as enl_v_mat_extru_10_sk2:
        with Locations((-4.169253037, 10.31875)):
            Circle(ESQUISSE20_R)
    enl_v_mat_extru_10_tool2 = extrude(enl_v_mat_extru_10_sk2.sketch, amount=-ENL_V_MAT_EXTRU_10_REACH, mode=Mode.PRIVATE) & part.part
    add(enl_v_mat_extru_10_tool2.solids().sort_by_distance((-4.169253, -6.582558, 10.31875))[0], mode=Mode.SUBTRACT)
    # Esquisse20 → Enlèv. mat.-Extru.10 (cut, up to next)
    with BuildSketch(Plane.XZ.offset(6.58255814), mode=Mode.PRIVATE) as enl_v_mat_extru_10_sk3:
        with Locations((-4.169253037, 89.68125)):
            Circle(ESQUISSE20_R)
    enl_v_mat_extru_10_tool3 = extrude(enl_v_mat_extru_10_sk3.sketch, amount=-ENL_V_MAT_EXTRU_10_REACH, mode=Mode.PRIVATE) & part.part
    add(enl_v_mat_extru_10_tool3.solids().sort_by_distance((-4.169253, -6.582558, 89.68125))[0], mode=Mode.SUBTRACT)
    # Esquisse20 → Enlèv. mat.-Extru.10 (cut, up to next)
    with BuildSketch(Plane.XZ.offset(6.58255814), mode=Mode.PRIVATE) as enl_v_mat_extru_10_sk4:
        with Locations((-105.119253037, 89.68125)):
            Circle(ESQUISSE20_R)
    enl_v_mat_extru_10_tool4 = extrude(enl_v_mat_extru_10_sk4.sketch, amount=-ENL_V_MAT_EXTRU_10_REACH, mode=Mode.PRIVATE) & part.part
    add(enl_v_mat_extru_10_tool4.solids().sort_by_distance((-105.119253, -6.582558, 89.68125))[0], mode=Mode.SUBTRACT)

    # Esquisse21 → Enlèv. mat.-Extru.11 (cut)
    with BuildSketch(Plane.ZY.offset(113.850503037)):
        with Locations((30, 70.19869186)):
            Circle(ESQUISSE21_R)
        with Locations((40, 70.19869186)):
            Circle(ESQUISSE21_R)
        with Locations((50, 70.19869186)):
            Circle(ESQUISSE21_R)
        with Locations((60, 70.19869186)):
            Circle(ESQUISSE21_R)
        with Locations((70, 70.19869186)):
            Circle(ESQUISSE21_R)
        with Locations((40, 60.19869186)):
            Circle(ESQUISSE21_R)
        with Locations((50, 60.19869186)):
            Circle(ESQUISSE21_R)
        with Locations((60, 60.19869186)):
            Circle(ESQUISSE21_R)
        with Locations((70, 60.19869186)):
            Circle(ESQUISSE21_R)
        with Locations((40, 50.19869186)):
            Circle(ESQUISSE21_R)
        with Locations((50, 50.19869186)):
            Circle(ESQUISSE21_R)
        with Locations((60, 50.19869186)):
            Circle(ESQUISSE21_R)
        with Locations((70, 50.19869186)):
            Circle(ESQUISSE21_R)
        with Locations((40, 40.19869186)):
            Circle(ESQUISSE21_R)
        with Locations((50, 40.19869186)):
            Circle(ESQUISSE21_R)
        with Locations((60, 40.19869186)):
            Circle(ESQUISSE21_R)
        with Locations((70, 40.19869186)):
            Circle(ESQUISSE21_R)
        with Locations((40, 30.19869186)):
            Circle(ESQUISSE21_R)
        with Locations((50, 30.19869186)):
            Circle(ESQUISSE21_R)
        with Locations((60, 30.19869186)):
            Circle(ESQUISSE21_R)
        with Locations((70, 30.19869186)):
            Circle(ESQUISSE21_R)
        with Locations((30, 60.19869186)):
            Circle(ESQUISSE21_R)
        with Locations((30, 50.19869186)):
            Circle(ESQUISSE21_R)
        with Locations((30, 40.19869186)):
            Circle(ESQUISSE21_R)
        with Locations((30, 30.19869186)):
            Circle(ESQUISSE21_R)
    extrude(amount=-ENL_V_MAT_EXTRU_11_DEPTH, mode=Mode.SUBTRACT)

    # Esquisse22 → Enlèv. mat.-Extru.12 (cut, up to next)
    with BuildSketch(Plane.ZY.offset(-6.149496963), mode=Mode.PRIVATE) as enl_v_mat_extru_12_sk1:
        with Locations((35, -93.35380814)):
            Circle(ESQUISSE22_R)
    enl_v_mat_extru_12_tool1 = extrude(enl_v_mat_extru_12_sk1.sketch, amount=-ENL_V_MAT_EXTRU_12_REACH, mode=Mode.PRIVATE) & part.part
    add(enl_v_mat_extru_12_tool1.solids().sort_by_distance((6.149497, -93.353808, 35))[0], mode=Mode.SUBTRACT)
    # Esquisse22 → Enlèv. mat.-Extru.12 (cut, up to next)
    with BuildSketch(Plane.ZY.offset(-6.149496963), mode=Mode.PRIVATE) as enl_v_mat_extru_12_sk2:
        Polygon((0, -129.94130814), (0, -110.89130814), (1.5875, -110.89130814), (1.5875, -128.35380814), (19.05, -128.35380814), (19.05, -119.94130814), (80.95, -119.94130814), (80.95, -128.35380814), (98.4125, -128.35380814), (98.4125, -110.89130814), (100, -110.89130814), (100, -129.94130814), (19.05, -129.94130814), align=None)
    enl_v_mat_extru_12_tool2 = extrude(enl_v_mat_extru_12_sk2.sketch, amount=-ENL_V_MAT_EXTRU_12_REACH, mode=Mode.PRIVATE) & part.part
    add(enl_v_mat_extru_12_tool2.solids().sort_by_distance((6.149497, -124.886228, 50))[0], mode=Mode.SUBTRACT)


solid = part.part
